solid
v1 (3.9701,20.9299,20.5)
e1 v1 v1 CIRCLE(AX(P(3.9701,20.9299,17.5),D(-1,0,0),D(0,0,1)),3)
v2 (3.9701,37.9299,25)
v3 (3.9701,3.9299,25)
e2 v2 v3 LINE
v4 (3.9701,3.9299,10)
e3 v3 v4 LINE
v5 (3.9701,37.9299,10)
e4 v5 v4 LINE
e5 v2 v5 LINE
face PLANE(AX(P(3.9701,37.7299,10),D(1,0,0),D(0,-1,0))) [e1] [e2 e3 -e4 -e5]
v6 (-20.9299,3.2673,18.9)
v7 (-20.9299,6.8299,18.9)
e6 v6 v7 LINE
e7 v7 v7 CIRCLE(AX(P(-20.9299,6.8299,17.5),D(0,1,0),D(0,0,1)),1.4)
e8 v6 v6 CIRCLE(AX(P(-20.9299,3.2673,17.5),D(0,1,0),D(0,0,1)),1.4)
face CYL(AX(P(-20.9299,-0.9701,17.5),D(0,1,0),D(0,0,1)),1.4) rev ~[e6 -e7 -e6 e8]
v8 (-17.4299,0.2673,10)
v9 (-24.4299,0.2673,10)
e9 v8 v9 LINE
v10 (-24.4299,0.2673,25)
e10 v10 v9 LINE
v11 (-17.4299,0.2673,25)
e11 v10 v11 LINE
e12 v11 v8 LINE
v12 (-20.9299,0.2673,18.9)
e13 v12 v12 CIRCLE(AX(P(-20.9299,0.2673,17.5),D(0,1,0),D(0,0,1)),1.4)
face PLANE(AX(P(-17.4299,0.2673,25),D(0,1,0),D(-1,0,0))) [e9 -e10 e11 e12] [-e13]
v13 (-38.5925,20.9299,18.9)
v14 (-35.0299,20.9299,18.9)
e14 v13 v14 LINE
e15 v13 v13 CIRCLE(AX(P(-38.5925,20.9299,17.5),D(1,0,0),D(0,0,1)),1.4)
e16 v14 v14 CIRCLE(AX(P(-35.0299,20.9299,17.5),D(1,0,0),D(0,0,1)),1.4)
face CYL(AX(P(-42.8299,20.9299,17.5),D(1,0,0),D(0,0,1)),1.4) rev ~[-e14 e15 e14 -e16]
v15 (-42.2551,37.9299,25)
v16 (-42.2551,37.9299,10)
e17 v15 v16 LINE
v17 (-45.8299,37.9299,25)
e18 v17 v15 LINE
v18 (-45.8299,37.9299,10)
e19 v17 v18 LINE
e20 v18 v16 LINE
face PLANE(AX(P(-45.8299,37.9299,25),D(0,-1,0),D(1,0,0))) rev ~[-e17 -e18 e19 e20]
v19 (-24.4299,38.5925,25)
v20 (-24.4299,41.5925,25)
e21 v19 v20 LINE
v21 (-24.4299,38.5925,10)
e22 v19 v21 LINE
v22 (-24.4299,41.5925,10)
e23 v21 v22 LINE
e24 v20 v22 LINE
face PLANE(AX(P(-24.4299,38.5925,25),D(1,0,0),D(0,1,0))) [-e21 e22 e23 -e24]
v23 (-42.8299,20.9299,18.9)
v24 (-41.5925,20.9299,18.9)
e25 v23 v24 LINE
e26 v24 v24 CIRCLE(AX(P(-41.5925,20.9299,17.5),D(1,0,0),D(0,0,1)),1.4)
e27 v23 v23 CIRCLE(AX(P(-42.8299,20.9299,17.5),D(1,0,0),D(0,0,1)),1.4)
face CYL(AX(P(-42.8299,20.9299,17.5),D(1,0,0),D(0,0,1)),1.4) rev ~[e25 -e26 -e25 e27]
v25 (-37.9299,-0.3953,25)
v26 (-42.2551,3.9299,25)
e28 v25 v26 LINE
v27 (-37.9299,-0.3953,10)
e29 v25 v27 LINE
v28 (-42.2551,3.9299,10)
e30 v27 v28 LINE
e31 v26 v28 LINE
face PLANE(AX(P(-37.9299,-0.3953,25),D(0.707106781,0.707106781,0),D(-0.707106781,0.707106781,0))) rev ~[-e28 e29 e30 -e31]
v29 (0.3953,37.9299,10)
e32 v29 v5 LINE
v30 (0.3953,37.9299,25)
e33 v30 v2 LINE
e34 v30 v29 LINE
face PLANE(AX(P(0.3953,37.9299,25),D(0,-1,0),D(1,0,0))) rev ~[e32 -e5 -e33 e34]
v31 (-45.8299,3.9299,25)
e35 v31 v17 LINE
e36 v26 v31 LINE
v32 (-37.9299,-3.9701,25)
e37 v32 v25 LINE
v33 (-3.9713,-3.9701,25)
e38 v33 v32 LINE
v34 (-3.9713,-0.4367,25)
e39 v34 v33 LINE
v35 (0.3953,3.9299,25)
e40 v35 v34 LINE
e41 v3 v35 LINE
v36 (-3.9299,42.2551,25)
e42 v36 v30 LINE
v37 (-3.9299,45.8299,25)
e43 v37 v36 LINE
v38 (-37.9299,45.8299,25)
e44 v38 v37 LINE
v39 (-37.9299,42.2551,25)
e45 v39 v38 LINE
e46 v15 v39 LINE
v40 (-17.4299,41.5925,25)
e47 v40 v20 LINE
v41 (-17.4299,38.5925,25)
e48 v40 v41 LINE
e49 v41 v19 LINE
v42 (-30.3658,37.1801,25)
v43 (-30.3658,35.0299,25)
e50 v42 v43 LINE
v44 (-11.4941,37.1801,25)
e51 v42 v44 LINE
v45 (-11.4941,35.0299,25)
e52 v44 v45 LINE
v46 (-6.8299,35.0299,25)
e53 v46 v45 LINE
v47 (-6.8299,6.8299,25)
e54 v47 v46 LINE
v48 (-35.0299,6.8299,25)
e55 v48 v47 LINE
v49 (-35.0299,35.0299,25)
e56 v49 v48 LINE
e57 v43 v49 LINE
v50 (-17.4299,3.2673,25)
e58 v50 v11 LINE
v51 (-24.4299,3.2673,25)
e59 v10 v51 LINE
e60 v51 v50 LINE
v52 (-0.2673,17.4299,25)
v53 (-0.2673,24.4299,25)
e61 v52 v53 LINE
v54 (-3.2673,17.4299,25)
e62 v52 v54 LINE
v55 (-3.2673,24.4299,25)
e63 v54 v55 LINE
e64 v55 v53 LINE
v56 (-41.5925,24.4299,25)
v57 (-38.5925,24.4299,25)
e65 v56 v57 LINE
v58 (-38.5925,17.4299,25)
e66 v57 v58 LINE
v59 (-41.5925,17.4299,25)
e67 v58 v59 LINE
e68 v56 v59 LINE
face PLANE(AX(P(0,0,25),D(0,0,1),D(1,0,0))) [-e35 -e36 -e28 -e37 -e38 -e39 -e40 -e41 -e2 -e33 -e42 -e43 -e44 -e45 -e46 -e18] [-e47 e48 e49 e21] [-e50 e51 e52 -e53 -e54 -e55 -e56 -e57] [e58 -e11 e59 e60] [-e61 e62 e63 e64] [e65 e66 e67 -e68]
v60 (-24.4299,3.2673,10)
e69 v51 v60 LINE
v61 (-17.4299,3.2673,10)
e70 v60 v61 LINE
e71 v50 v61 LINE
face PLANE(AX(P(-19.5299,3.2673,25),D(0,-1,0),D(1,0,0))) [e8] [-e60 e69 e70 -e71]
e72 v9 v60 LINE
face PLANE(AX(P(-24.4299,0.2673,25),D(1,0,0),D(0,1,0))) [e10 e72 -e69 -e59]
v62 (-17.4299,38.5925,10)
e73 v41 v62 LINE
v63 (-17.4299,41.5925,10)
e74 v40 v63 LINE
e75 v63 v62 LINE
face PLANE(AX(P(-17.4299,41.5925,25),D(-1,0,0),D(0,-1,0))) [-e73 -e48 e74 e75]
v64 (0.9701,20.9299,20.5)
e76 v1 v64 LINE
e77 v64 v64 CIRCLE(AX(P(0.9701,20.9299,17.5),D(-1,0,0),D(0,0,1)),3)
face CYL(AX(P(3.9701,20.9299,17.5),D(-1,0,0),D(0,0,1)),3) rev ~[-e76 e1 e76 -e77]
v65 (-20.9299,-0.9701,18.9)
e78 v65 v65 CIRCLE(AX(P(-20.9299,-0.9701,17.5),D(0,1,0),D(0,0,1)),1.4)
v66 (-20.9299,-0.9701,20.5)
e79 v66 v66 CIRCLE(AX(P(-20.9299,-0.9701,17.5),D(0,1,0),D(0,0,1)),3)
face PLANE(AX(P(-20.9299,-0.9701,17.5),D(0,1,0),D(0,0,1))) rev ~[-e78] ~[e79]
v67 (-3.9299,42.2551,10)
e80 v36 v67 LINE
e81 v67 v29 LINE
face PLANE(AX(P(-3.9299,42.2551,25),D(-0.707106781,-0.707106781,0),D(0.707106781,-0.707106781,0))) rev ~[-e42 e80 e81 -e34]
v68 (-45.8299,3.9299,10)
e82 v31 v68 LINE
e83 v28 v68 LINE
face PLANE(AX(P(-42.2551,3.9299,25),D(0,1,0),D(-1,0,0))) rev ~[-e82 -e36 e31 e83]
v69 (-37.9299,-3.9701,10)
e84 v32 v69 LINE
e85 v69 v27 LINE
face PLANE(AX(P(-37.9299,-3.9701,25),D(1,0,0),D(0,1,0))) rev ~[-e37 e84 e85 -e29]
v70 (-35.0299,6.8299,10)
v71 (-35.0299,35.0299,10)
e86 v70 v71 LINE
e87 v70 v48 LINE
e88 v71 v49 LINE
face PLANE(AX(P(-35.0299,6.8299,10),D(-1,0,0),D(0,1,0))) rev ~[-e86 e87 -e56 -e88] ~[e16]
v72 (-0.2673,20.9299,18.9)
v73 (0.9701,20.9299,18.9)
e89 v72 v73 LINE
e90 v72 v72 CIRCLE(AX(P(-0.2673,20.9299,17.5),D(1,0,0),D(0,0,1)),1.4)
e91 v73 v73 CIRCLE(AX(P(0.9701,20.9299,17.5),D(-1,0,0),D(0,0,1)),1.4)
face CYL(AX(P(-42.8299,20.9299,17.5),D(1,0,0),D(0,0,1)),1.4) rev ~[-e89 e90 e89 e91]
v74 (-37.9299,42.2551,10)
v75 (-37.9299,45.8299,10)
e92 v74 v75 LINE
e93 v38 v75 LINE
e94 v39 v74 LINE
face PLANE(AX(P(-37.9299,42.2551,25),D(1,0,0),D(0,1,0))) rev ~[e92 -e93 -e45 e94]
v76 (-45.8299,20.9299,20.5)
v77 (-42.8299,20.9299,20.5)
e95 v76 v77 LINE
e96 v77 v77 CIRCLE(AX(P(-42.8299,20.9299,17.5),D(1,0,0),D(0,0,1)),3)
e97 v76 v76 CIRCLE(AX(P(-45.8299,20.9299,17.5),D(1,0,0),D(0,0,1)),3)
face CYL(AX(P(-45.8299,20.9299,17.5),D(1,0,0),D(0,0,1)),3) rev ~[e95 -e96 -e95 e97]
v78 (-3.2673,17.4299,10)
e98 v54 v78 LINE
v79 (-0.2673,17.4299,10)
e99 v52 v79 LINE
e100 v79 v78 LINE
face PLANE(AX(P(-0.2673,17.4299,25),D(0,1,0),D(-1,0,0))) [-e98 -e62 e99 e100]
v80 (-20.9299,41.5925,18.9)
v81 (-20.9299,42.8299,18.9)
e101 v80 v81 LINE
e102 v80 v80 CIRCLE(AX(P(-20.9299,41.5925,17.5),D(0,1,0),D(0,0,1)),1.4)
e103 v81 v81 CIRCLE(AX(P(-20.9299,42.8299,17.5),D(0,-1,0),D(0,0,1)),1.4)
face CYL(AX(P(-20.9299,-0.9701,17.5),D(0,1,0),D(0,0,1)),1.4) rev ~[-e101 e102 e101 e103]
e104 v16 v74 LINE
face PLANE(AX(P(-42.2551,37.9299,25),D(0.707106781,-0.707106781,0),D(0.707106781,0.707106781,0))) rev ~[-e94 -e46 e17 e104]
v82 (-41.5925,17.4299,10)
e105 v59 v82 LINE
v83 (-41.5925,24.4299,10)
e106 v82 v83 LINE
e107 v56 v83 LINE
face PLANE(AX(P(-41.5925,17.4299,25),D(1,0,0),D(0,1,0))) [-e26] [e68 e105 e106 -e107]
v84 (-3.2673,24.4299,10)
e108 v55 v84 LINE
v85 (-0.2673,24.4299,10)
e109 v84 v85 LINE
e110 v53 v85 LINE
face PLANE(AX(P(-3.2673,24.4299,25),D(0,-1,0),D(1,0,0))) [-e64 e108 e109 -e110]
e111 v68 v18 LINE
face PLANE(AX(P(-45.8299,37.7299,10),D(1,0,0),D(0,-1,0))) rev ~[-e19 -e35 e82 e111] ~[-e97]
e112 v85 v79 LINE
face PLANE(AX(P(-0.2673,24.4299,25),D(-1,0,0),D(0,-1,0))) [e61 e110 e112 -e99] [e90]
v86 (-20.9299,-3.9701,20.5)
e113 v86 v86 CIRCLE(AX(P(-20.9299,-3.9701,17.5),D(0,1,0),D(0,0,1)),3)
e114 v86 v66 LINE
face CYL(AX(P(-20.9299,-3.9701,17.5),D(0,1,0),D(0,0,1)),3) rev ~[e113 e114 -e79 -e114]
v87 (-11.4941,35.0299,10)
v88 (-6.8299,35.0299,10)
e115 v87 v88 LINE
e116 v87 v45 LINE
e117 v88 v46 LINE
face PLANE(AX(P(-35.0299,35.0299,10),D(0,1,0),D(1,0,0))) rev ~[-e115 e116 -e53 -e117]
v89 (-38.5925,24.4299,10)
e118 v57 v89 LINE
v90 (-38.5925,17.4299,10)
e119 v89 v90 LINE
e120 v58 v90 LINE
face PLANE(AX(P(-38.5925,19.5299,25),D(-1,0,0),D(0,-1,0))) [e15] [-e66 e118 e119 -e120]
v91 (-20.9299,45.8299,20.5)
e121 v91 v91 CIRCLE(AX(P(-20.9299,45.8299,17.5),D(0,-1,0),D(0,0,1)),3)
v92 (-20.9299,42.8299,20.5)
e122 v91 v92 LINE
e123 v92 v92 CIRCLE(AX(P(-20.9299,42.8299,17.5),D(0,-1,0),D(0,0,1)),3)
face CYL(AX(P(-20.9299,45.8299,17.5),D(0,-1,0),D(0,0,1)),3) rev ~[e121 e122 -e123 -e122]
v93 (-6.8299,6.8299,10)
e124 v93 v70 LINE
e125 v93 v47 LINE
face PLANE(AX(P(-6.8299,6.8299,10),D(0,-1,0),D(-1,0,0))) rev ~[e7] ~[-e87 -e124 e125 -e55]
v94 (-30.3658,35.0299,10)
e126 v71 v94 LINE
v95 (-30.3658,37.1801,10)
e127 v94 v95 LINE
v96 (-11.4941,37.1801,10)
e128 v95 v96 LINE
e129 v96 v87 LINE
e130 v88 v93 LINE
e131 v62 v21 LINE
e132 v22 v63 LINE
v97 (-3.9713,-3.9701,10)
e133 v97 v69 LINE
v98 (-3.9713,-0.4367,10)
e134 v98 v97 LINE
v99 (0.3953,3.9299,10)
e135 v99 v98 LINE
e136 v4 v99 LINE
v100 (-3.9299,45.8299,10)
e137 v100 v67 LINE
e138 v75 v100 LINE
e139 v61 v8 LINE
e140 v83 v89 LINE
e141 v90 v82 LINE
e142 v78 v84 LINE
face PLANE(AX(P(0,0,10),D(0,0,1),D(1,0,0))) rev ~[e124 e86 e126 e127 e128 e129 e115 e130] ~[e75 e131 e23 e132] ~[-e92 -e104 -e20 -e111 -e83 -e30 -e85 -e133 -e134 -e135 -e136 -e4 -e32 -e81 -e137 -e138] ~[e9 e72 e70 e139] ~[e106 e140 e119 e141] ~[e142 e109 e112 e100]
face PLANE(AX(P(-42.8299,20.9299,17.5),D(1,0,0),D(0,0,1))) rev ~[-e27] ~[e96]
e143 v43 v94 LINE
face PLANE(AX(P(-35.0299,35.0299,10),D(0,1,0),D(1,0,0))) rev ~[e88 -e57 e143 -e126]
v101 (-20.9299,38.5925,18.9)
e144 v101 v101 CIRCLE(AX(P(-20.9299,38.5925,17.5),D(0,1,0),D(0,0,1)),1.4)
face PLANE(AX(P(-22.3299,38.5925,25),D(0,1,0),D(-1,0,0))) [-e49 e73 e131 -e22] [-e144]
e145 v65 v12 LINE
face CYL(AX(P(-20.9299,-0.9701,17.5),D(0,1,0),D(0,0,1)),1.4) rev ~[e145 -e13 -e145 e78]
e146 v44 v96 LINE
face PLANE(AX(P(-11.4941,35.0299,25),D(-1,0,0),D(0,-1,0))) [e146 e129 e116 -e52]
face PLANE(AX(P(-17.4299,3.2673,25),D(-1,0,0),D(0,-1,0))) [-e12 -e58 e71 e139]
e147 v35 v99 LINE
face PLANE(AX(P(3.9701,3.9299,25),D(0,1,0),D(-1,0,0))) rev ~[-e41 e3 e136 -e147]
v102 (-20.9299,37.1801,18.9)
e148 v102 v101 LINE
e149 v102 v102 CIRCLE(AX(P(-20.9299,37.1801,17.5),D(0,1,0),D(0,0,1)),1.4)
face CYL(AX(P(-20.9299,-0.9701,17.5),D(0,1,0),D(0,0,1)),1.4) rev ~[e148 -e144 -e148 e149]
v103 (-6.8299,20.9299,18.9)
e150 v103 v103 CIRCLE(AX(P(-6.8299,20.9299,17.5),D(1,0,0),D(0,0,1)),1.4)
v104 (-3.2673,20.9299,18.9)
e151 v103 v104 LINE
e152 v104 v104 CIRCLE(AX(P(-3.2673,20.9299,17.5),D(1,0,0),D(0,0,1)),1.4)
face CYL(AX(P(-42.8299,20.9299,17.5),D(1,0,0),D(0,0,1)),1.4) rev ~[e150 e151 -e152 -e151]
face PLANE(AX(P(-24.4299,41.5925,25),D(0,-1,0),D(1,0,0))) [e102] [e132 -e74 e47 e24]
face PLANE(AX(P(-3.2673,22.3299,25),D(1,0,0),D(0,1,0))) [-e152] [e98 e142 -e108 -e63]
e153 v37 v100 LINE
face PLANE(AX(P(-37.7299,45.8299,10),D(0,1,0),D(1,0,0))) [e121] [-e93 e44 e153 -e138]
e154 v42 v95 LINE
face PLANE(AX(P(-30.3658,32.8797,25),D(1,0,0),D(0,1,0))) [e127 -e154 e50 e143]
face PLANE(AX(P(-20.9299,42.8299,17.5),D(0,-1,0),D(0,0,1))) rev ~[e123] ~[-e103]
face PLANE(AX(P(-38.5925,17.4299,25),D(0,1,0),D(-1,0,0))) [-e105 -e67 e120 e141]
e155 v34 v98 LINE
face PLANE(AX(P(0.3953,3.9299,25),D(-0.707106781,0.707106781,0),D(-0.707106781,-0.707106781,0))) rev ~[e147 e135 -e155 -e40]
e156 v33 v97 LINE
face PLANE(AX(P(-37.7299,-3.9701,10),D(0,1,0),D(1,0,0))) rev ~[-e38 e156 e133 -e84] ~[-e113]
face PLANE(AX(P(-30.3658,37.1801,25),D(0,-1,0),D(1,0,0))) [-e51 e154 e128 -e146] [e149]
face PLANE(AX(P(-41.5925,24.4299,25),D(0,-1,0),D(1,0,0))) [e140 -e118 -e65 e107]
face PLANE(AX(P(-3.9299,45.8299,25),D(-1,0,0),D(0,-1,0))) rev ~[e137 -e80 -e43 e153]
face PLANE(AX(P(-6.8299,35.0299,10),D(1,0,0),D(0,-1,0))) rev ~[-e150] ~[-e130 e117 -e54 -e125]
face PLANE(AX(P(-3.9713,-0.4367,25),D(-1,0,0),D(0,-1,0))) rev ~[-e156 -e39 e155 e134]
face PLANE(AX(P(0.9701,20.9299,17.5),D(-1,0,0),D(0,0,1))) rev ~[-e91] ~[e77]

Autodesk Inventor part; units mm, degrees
ref_plane "YZ Plane" through (0, 0, 0) normal (1, 0, 0) x (0, 1, 0)
ref_plane "XZ Plane" through (0, 0, 0) normal (0, 1, 0) x (-1, 0, 0)
ref_plane "XY Plane" through (0, 0, 0) normal (0, 0, 1) x (1, 0, 0)
ref_plane "Work Plane5" through (0, 0, 10) normal (0, 0, 1) x (1, 0, 0)
sketch "Sketch1" plane through (0, 0, 10) normal (0, 0, 1) x (1, 0, 0)
  line L0 (-4.0299, -0.3538) -> (-2.2322, 1.4439) construction
  arc A0 (-1.4439, 2.2322) -> (-2.2322, 1.4439) centre (-0.9299, 0.9299) ccw construction
  line L1 (-1.4439, 2.2322) -> (0.3538, 4.0299) construction
  line L2 (-37.8299, 42.8299) -> (-37.8299, 37.8299) construction
  line L3 (-37.8299, 37.8299) -> (-42.9208, 37.8299) construction
  line L4 (-37.8299, 42.2137) -> (-37.8299, 45.8299) construction
  line L5 (-37.8299, 45.8299) -> (-4.0299, 45.8299) construction
  line L6 (-4.0299, 45.8299) -> (-4.0299, 42.2137) construction
  line L7 (-4.0299, 4.0299) -> (0.3538, 4.0299) projected
  circle A1 centre (-20.9299, 20.9299) radius 17.5 projected
  line L8 (-20.9299, 58.9723) -> (17.1124, 20.9299) construction
  line L9 (17.1124, 20.9299) -> (-20.9299, -17.1124) construction
  line L10 (-20.9299, -17.1124) -> (-58.9723, 20.9299) construction
  line L11 (-58.9723, 20.9299) -> (-20.9299, 58.9723) construction
  line L12 (-20.9299, 58.9723) -> (-20.9299, -17.1124) construction
  line L13 (17.1124, 20.9299) -> (-58.9723, 20.9299) construction
  line L14 (-20.9299, 58.9723) -> (32.8701, 58.9723) construction
  line L15 (-43.4299, 43.4299) -> (1.5701, 43.4299) construction
  line L16 (1.5701, 43.4299) -> (1.5701, -1.5701) construction
  line L17 (1.5701, -1.5701) -> (-43.4299, -1.5701) construction
  line L18 (-43.4299, -1.5701) -> (-43.4299, 43.4299) construction
  line L19 (-43.4299, 43.4299) -> (1.5701, -1.5701) construction
  line L20 (1.5701, 43.4299) -> (-43.4299, -1.5701) construction
  line L21 (-43.4299, 5.3876) -> (-43.4299, 36.4723)
  line L22 (-43.4299, 36.4723) -> (-36.4723, 43.4299)
  line L23 (-36.4723, 43.4299) -> (-5.3876, 43.4299)
  line L24 (-5.3876, 43.4299) -> (1.5701, 36.4723)
  line L25 (1.5701, 36.4723) -> (1.5701, 5.3876)
  line L26 (1.5701, 5.3876) -> (-5.3876, -1.5701)
  line L27 (-5.3876, -1.5701) -> (-36.4723, -1.5701)
  line L28 (-36.4723, -1.5701) -> (-43.4299, 5.3876)
  line L29 (-4.0299, 42.2137) -> (-37.8299, 42.2137) projected
  line L30 (-4.0299, -0.3538) -> (-4.0299, 4.0299) projected
  circle A2 centre (-20.9299, 20.9299) radius 1.5
  line L31 (-10.9299, 10.9299) -> (-30.9299, 10.9299) construction
  line L32 (-30.9299, 10.9299) -> (-30.9299, 30.9299) construction
  line L33 (-30.9299, 30.9299) -> (-10.9299, 30.9299) construction
  line L34 (-10.9299, 30.9299) -> (-10.9299, 10.9299) construction
  line L35 (-10.9299, 10.9299) -> (-30.9299, 30.9299) construction
  line L36 (-30.9299, 10.9299) -> (-10.9299, 30.9299) construction
  circle A3 centre (-30.9299, 30.9299) radius 1.4
  circle A4 centre (-30.9299, 10.9299) radius 1.4
  circle A5 centre (-10.9299, 10.9299) radius 1.4
  line L37 (-45.8299, 37.8299) -> (-42.0723, 37.8299) construction
  line L38 (-42.1723, 37.7299) -> (-45.8299, 37.7299)
  line L39 (-45.8299, 37.7299) -> (-45.8299, 4.1299)
  line L40 (-45.8299, 4.1299) -> (-42.1723, 4.1299)
  line L41 (-42.1723, 4.1299) -> (-42.1723, 37.7299)
  line L42 (-45.8299, 4.0299) -> (-42.0723, 4.0299) construction
  line L43 (-45.8299, 37.8299) -> (-42.0723, 37.8299) projected
  line L44 (-37.7299, 45.8299) -> (-4.1299, 45.8299)
  line L45 (-4.1299, 45.8299) -> (-4.1299, 42.1723)
  line L46 (-4.1299, 42.1723) -> (-37.7299, 42.1723)
  line L47 (-37.7299, 42.1723) -> (-37.7299, 45.8299)
  line L48 (0.4701, 37.8299) -> (0.4701, 4.0299) construction
  line L49 (0.4701, 4.0299) -> (3.9701, 4.0299) construction
  line L50 (3.9701, 37.8299) -> (3.9701, 4.0299) construction
  line L51 (0.4701, 37.8299) -> (3.9701, 37.8299) construction
  line L52 (-45.8299, -3.9701) -> (-4.0299, -3.9701) construction
  line L53 (0.3124, 37.7299) -> (3.9701, 37.7299)
  line L54 (3.9701, 37.7299) -> (3.9701, 4.1299)
  line L55 (3.9701, 4.1299) -> (0.3124, 4.1299)
  line L56 (0.3124, 4.1299) -> (0.3124, 37.7299)
  line L57 (-4.1713, -0.3538) -> (-37.7299, -0.3538)
  line L58 (-37.7299, -0.3538) -> (-37.7299, -3.9701)
  line L59 (-37.7299, -3.9701) -> (-4.1713, -3.9701)
  line L60 (-4.1713, -3.9701) -> (-4.1713, -0.3538)
  point P0 (-37.8299, 4.0299)
  dimension "d18" = 53.8
  dimension "d19" = 45
  dimension "d20" = 53.8
  dimension "d21" = 45
  dimension "d22" = 45
  dimension "d30" = 20
  dimension "d31" = 20
  dimension "d32" = 2.8
  dimension "d33" = 2.8
  dimension "d34" = 2.8
  dimension "d35" = 3
  dimension "d36" = 0.1
  dimension "d37" = 0.1
  dimension "d38" = 0.1
  dimension "d39" = 0.1
extrude "Extrusion1" add sketch "Sketch1" along normal blind 15 contours L30 L26 L57 L28 L41 L22 L46 L24 L56 L7 | L7 L26 L30 | L56 L24 L25 L26 | L26 L25 L24 L53 L54 L55 | L60 L59 L58 L57 L28 L27 L26 | L26 L27 L28 L57 | L46 L22 L29 L24 | L24 L29 L45 | L40 L39 L38 L22 L21 L28 | L28 L21 L22 L41 | L29 L22 L23 L24 | L24 L23 L22 L29 L47 L44 L45 | L47 L29 L22 | A1 | A2 | A3 | A4 | A5
sketch "Skizze4" plane through (0, 0, 25) normal (0, 0, 1) x (1, 0, 0)
  line L0 (-37.7299, 42.1723) -> (-42.1723, 37.7299) projected
  line L1 (-42.1723, 37.7299) -> (-45.8299, 37.7299) projected
  line L2 (-45.8299, 37.7299) -> (-45.8299, 4.1299) construction
  line L3 (-45.8299, 4.1299) -> (-42.1723, 4.1299) projected
  line L4 (-42.1723, 4.1299) -> (-37.6885, -0.3538) projected
  line L5 (-37.6885, -0.3538) -> (-37.7299, -0.3538) projected
  line L6 (-37.7299, -0.3538) -> (-37.7299, -3.9701) projected
  line L7 (-37.7299, -3.9701) -> (-4.1713, -3.9701) construction
  line L8 (-4.1713, -3.9701) -> (-4.1713, -0.3538) projected
  line L9 (-4.1713, -0.3538) -> (0.3124, 4.1299) projected
  line L10 (0.3124, 4.1299) -> (3.9701, 4.1299) projected
  line L11 (3.9701, 4.1299) -> (3.9701, 37.7299) construction
  line L12 (3.9701, 37.7299) -> (0.3124, 37.7299) projected
  line L13 (0.3124, 37.7299) -> (-4.1299, 42.1723) projected
  line L14 (-4.1299, 42.1723) -> (-4.1299, 45.8299) projected
  line L15 (-4.1299, 45.8299) -> (-37.7299, 45.8299) construction
  line L16 (-37.7299, 45.8299) -> (-37.7299, 42.1723) projected
  line L17 (-37.9299, 46.0299) -> (-3.9299, 46.0299) construction
  line L18 (-3.9299, 46.0299) -> (-3.9299, 42.2551)
  line L19 (-3.9299, 42.2551) -> (0.3953, 37.9299)
  line L20 (0.3953, 37.9299) -> (4.1701, 37.9299)
  line L21 (4.1701, 37.9299) -> (4.1701, 3.9299) construction
  line L22 (4.1701, 3.9299) -> (0.3953, 3.9299)
  line L23 (0.3953, 3.9299) -> (-3.9713, -0.4367)
  line L24 (-3.9713, -0.4367) -> (-3.9713, -4.1701)
  line L25 (-3.9713, -4.1701) -> (-37.9299, -4.1701) construction
  line L26 (-37.9299, -4.1701) -> (-37.9299, -0.3953)
  line L27 (-37.9299, -0.3953) -> (-42.2551, 3.9299)
  line L28 (-42.2551, 3.9299) -> (-46.0299, 3.9299)
  line L29 (-46.0299, 3.9299) -> (-46.0299, 37.9299) construction
  line L30 (-46.0299, 37.9299) -> (-42.2551, 37.9299)
  line L31 (-42.2551, 37.9299) -> (-37.9299, 42.2551)
  line L32 (-37.9299, 42.2551) -> (-37.9299, 46.0299)
  line L33 (-45.8299, 37.7299) -> (-45.8299, 37.9299)
  line L34 (-4.1299, 45.8299) -> (-37.7299, 45.8299) projected
  line L35 (-37.7299, 45.8299) -> (-37.9299, 45.8299)
  line L36 (-4.1299, 45.8299) -> (-3.9299, 45.8299)
  line L37 (3.9701, 37.7299) -> (3.9701, 37.9299)
  line L38 (3.9701, 4.1299) -> (3.9701, 37.7299) projected
  line L39 (3.9701, 4.1299) -> (3.9701, 3.9299)
  line L40 (-4.1713, -3.9701) -> (-3.9713, -3.9701)
  line L41 (-37.7299, -3.9701) -> (-37.9299, -3.9701)
  line L42 (-45.8299, 4.1299) -> (-45.8299, 3.9299)
  point P0 (0, 0)
  dimension "d40" = 0.2
extrude "IM_offset" add sketch "Skizze4" against normal up to surface (15 mm away)
sketch "Sketch29" plane through (0, 0, 10) normal (0, 0, -1) x (-1, 0, 0)
  line L0 (30.9299, 15.9299) -> (30.9299, 25.9299)
  line L1 (25.9299, 30.9299) -> (15.8299, 30.9299)
  line L2 (10.9299, 29.4299) -> (10.9299, 12.4299)
  line L3 (29.4299, 10.9299) -> (12.4299, 10.9299)
  line L4 (10.9299, 10.9299) -> (30.9299, 10.9299) construction
  line L5 (30.9299, 10.9299) -> (30.9299, 30.9299)
  line L6 (30.9299, 30.9299) -> (10.9299, 30.9299)
  line L7 (10.9299, 30.9299) -> (10.9299, 10.9299)
  line L8 (10.8299, 10.8299) -> (31.0299, 10.8299)
  line L9 (31.0299, 10.8299) -> (31.0299, 31.0299)
  line L10 (31.0299, 31.0299) -> (10.8299, 31.0299)
  line L11 (10.8299, 31.0299) -> (10.8299, 10.8299)
  circle A0 centre (20.9299, 20.9299) radius 11
  line L12 (13.0299, 34.4299) -> (28.8299, 34.4299)
  line L13 (6.9299, 12.5299) -> (6.9299, 29.3299)
  line L14 (34.9299, 9.4299) -> (34.9299, 32.4299)
  line L15 (29.3299, 6.9299) -> (12.5299, 6.9299)
  line L16 (12.5299, 34.9299) -> (29.3299, 34.9299)
  line L17 (34.9299, 6.9299) -> (6.9299, 6.9299)
  line L18 (6.9299, 6.9299) -> (6.9299, 34.9299)
  line L19 (6.9299, 34.9299) -> (34.9299, 34.9299)
  line L20 (34.9299, 34.9299) -> (34.9299, 6.9299)
  line L21 (34.9299, 6.9299) -> (6.9299, 34.9299) construction
  line L22 (6.9299, 6.9299) -> (34.9299, 34.9299) construction
  line L23 (35.0299, 35.0299) -> (6.8299, 35.0299)
  line L24 (6.8299, 35.0299) -> (6.8299, 6.8299)
  line L25 (6.8299, 6.8299) -> (35.0299, 6.8299)
  line L26 (35.0299, 6.8299) -> (35.0299, 35.0299)
  point P0 (0, 0)
  dimension "d188" = 0.1
  dimension "d189" = 0.1
extrude "Extrusion23" cut sketch "Sketch29" against normal through all contours A0 L3 L2 L1 L0 | A0 L9 L8 | L0 A0 L9 | A0 L1 L6 L5 L0 | L0 L5 L6 L1 A0 L10 L9 | A0 L8 L3 | L9 A0 | L1 A0 L10 | A0 L8 L11 | A0 L8 | A0 L2 L7 L6 L1 | L1 L6 L7 L2 A0 L11 L10 | L10 A0 | A0 L11 L2 | A0 L11 | L13 L18 L19 L16 L20 L14 L17 L15 | L26 L25 L24 L23
sketch "Sketch30" plane through (-45.8299, 0, 10) normal (-1, 0, 0) x (0, 0, 1)
  line L0 (35.0799, 45.8299) -> (6.8799, 45.8299)
  line L1 (0, 3.9299) -> (0, 37.9299) projected
  line L2 (15, 3.9299) -> (0, 3.9299) projected
  line L3 (15, 37.9299) -> (15, 3.9299) projected
  line L4 (15, 37.9299) -> (0, 37.9299) projected
  circle A0 centre (7.5, 20.9299) radius 1.7201
  point P0 (-10, 0)
ref_plane "Arbeitsebene7" through (-20.9299, 3.9299, 10) normal (-1, 0, 0) x (0, 0, 1)
ref_plane "Arbeitsebene8" through (-37.9299, 20.9299, 10) normal (0, 1, 0) x (1, 0, 0)
ref_plane "Arbeitsebene9" through (-20.9299, 3.9299, 10) normal (-1, 0, 0) x (0, 0, 1)
ref_plane "Arbeitsebene10" through (-37.9299, 20.9299, 10) normal (0, -1, 0) x (1, 0, 0)
hole "Bohrung2" at (-45.8299, 20.9299, 17.5) direction (1, 0, 0) diameter 2.8 end through all counterbore diameter 6 counterbore depth 3
pattern_circular "Runde Anordnung2" count 4 over 360 about axis through (-20.9299, 20.9299, 10) along (0, 0, 1) of "Bohrung2"
ref_plane "Arbeitsebene11" through (-20.9299, 3.9299, 10) normal (1, 0, 0) x (0, 0, -1)
ref_plane "Arbeitsebene12" through (-37.9299, 20.9299, 10) normal (0, 1, 0) x (1, 0, 0)
sketch "Sketch31" plane through (0, 0, 25) normal (0, 0, 1) x (1, 0, 0)
  point P0 (0, 0)
sketch "Sketch32" plane through (0, 0, 25) normal (0, 0, 1) x (1, 0, 0)
  line L0 (-6.8299, 6.8299) -> (-35.0299, 6.8299) projected
  line L1 (-35.0299, 6.8299) -> (-35.0299, 35.0299) projected
  line L2 (-35.0299, 35.0299) -> (-6.8299, 35.0299) projected
  line L3 (-6.8299, 35.0299) -> (-6.8299, 6.8299) projected
  line L4 (3.9701, 3.9299) -> (3.9701, 37.9299) projected
  line L5 (3.9701, 37.9299) -> (0.3953, 37.9299) projected
  line L6 (0.3953, 37.9299) -> (-3.9299, 42.2551) projected
  line L7 (-3.9299, 42.2551) -> (-3.9299, 45.8299) projected
  line L8 (-3.9299, 45.8299) -> (-37.9299, 45.8299) projected
  line L9 (-37.9299, 45.8299) -> (-37.9299, 42.2551) projected
  line L10 (-37.9299, 42.2551) -> (-42.2551, 37.9299) projected
  line L11 (-42.2551, 37.9299) -> (-45.8299, 37.9299) projected
  line L12 (-45.8299, 37.9299) -> (-45.8299, 3.9299) projected
  line L13 (-42.2551, 3.9299) -> (-45.8299, 3.9299) projected
  line L14 (-37.9299, -0.3953) -> (-42.2551, 3.9299) projected
  line L15 (-37.9299, -3.9701) -> (-37.9299, -0.3953) projected
  line L16 (-3.9713, -3.9701) -> (-37.9299, -3.9701) projected
  line L17 (-3.9713, -3.9701) -> (-3.9713, -0.4367) projected
  line L18 (-3.9713, -0.4367) -> (0.3953, 3.9299) projected
  line L19 (0.3953, 3.9299) -> (3.9701, 3.9299) projected
  line L20 (-22.3299, 42.8299) -> (-22.3299, 35.0299) projected
  line L21 (-19.5299, 42.8299) -> (-19.5299, 35.0299) projected
  line L22 (0.9701, 22.3299) -> (-6.8299, 22.3299) projected
  line L23 (0.9701, 19.5299) -> (-6.8299, 19.5299) projected
  line L24 (-19.5299, 6.8299) -> (-19.5299, -0.9701) projected
  line L25 (-22.3299, 6.8299) -> (-22.3299, -0.9701) projected
  line L26 (-35.0299, 19.5299) -> (-42.8299, 19.5299) projected
  line L27 (-35.0299, 22.3299) -> (-42.8299, 22.3299) projected
  line L28 (-41.5925, 24.4299) -> (-38.5925, 24.4299)
  line L29 (-38.5925, 24.4299) -> (-38.5925, 17.4299)
  line L30 (-38.5925, 17.4299) -> (-41.5925, 17.4299)
  line L31 (-41.5925, 17.4299) -> (-41.5925, 24.4299)
  line L32 (-41.5925, 24.4299) -> (-38.5925, 17.4299) construction
  line L33 (-38.5925, 24.4299) -> (-41.5925, 17.4299) construction
  point P0 (0, 0)
  point P1 (-40.0925, 20.9299)
  dimension "d190" = 3
  dimension "d191" = 7
extrude "Extrusion25" cut sketch "Sketch32" against normal through all contours L29 L30 L31 L26 | L26 L31 L27 L29 | L27 L31 L28 L29
pattern_circular "Circular Pattern3" count 4 over 360 about axis through (-20.9299, 20.9299, 10) along (0, 0, 1) of "Extrusion25"
sketch "Sketch33" plane through (0, 0, 25) normal (0, 0, 1) x (1, 0, 0)
  line L0 (-24.4299, 38.5925) -> (-24.4299, 41.5925) projected
  line L1 (-24.4299, 41.5925) -> (-17.4299, 41.5925) projected
  line L2 (-17.4299, 41.5925) -> (-17.4299, 38.5925) projected
  line L3 (-17.4299, 38.5925) -> (-24.4299, 38.5925) projected
  line L4 (-3.2673, 24.4299) -> (-0.2673, 24.4299) projected
  line L5 (-0.2673, 24.4299) -> (-0.2673, 17.4299) projected
  line L6 (-0.2673, 17.4299) -> (-3.2673, 17.4299) projected
  line L7 (-3.2673, 17.4299) -> (-3.2673, 24.4299) projected
  line L8 (-17.4299, 3.2673) -> (-17.4299, 0.2673) projected
  line L9 (-17.4299, 0.2673) -> (-24.4299, 0.2673) projected
  line L10 (-24.4299, 0.2673) -> (-24.4299, 3.2673) projected
  line L11 (-24.4299, 3.2673) -> (-17.4299, 3.2673) projected
  line L12 (-41.5925, 24.4299) -> (-38.5925, 24.4299) projected
  line L13 (-38.5925, 24.4299) -> (-38.5925, 17.4299) projected
  line L14 (-38.5925, 17.4299) -> (-41.5925, 17.4299) projected
  line L15 (-41.5925, 17.4299) -> (-41.5925, 24.4299) projected
  line L16 (-6.8299, 6.8299) -> (-35.0299, 6.8299) projected
  line L17 (-35.0299, 6.8299) -> (-35.0299, 35.0299) projected
  line L18 (-35.0299, 35.0299) -> (-6.8299, 35.0299) projected
  line L19 (-6.8299, 35.0299) -> (-6.8299, 6.8299) projected
  line L20 (3.9701, 3.9299) -> (3.9701, 37.9299) projected
  line L21 (3.9701, 37.9299) -> (0.3953, 37.9299) projected
  line L22 (0.3953, 37.9299) -> (-3.9299, 42.2551) projected
  line L23 (-3.9299, 42.2551) -> (-3.9299, 45.8299) projected
  line L24 (-3.9299, 45.8299) -> (-37.9299, 45.8299) projected
  line L25 (-37.9299, 45.8299) -> (-37.9299, 42.2551) projected
  line L26 (-37.9299, 42.2551) -> (-42.2551, 37.9299) projected
  line L27 (-42.2551, 37.9299) -> (-45.8299, 37.9299) projected
  line L28 (-45.8299, 37.9299) -> (-45.8299, 3.9299) projected
  line L29 (-42.2551, 3.9299) -> (-45.8299, 3.9299) projected
  line L30 (-37.9299, -0.3953) -> (-42.2551, 3.9299) projected
  line L31 (-37.9299, -3.9701) -> (-37.9299, -0.3953) projected
  line L32 (-3.9713, -3.9701) -> (-37.9299, -3.9701) projected
  line L33 (-3.9713, -3.9701) -> (-3.9713, -0.4367) projected
  line L34 (-3.9713, -0.4367) -> (0.3953, 3.9299) projected
  line L35 (0.3953, 3.9299) -> (3.9701, 3.9299) projected
  line L36 (-11.4941, 32.8797) -> (-30.3658, 32.8797)
  line L37 (-30.3658, 32.8797) -> (-30.3658, 37.1801)
  line L38 (-30.3658, 37.1801) -> (-11.4941, 37.1801)
  line L39 (-11.4941, 37.1801) -> (-11.4941, 32.8797)
  line L40 (-6.8299, 35.0299) -> (-35.0299, 35.0299) projected
  line L41 (-11.4941, 32.8797) -> (-30.3658, 37.1801) construction
  line L42 (-30.3658, 32.8797) -> (-11.4941, 37.1801) construction
  point P0 (0, 0)
  point P1 (-20.9299, 35.0299)
extrude "Extrusion26" cut sketch "Sketch33" against normal through all contours L39 L36 L37 L18 | L18 L37 L38 L39
properties part number "30_Cube_Z_Focus_MGN_NEMA_Motorsupport_centered"
